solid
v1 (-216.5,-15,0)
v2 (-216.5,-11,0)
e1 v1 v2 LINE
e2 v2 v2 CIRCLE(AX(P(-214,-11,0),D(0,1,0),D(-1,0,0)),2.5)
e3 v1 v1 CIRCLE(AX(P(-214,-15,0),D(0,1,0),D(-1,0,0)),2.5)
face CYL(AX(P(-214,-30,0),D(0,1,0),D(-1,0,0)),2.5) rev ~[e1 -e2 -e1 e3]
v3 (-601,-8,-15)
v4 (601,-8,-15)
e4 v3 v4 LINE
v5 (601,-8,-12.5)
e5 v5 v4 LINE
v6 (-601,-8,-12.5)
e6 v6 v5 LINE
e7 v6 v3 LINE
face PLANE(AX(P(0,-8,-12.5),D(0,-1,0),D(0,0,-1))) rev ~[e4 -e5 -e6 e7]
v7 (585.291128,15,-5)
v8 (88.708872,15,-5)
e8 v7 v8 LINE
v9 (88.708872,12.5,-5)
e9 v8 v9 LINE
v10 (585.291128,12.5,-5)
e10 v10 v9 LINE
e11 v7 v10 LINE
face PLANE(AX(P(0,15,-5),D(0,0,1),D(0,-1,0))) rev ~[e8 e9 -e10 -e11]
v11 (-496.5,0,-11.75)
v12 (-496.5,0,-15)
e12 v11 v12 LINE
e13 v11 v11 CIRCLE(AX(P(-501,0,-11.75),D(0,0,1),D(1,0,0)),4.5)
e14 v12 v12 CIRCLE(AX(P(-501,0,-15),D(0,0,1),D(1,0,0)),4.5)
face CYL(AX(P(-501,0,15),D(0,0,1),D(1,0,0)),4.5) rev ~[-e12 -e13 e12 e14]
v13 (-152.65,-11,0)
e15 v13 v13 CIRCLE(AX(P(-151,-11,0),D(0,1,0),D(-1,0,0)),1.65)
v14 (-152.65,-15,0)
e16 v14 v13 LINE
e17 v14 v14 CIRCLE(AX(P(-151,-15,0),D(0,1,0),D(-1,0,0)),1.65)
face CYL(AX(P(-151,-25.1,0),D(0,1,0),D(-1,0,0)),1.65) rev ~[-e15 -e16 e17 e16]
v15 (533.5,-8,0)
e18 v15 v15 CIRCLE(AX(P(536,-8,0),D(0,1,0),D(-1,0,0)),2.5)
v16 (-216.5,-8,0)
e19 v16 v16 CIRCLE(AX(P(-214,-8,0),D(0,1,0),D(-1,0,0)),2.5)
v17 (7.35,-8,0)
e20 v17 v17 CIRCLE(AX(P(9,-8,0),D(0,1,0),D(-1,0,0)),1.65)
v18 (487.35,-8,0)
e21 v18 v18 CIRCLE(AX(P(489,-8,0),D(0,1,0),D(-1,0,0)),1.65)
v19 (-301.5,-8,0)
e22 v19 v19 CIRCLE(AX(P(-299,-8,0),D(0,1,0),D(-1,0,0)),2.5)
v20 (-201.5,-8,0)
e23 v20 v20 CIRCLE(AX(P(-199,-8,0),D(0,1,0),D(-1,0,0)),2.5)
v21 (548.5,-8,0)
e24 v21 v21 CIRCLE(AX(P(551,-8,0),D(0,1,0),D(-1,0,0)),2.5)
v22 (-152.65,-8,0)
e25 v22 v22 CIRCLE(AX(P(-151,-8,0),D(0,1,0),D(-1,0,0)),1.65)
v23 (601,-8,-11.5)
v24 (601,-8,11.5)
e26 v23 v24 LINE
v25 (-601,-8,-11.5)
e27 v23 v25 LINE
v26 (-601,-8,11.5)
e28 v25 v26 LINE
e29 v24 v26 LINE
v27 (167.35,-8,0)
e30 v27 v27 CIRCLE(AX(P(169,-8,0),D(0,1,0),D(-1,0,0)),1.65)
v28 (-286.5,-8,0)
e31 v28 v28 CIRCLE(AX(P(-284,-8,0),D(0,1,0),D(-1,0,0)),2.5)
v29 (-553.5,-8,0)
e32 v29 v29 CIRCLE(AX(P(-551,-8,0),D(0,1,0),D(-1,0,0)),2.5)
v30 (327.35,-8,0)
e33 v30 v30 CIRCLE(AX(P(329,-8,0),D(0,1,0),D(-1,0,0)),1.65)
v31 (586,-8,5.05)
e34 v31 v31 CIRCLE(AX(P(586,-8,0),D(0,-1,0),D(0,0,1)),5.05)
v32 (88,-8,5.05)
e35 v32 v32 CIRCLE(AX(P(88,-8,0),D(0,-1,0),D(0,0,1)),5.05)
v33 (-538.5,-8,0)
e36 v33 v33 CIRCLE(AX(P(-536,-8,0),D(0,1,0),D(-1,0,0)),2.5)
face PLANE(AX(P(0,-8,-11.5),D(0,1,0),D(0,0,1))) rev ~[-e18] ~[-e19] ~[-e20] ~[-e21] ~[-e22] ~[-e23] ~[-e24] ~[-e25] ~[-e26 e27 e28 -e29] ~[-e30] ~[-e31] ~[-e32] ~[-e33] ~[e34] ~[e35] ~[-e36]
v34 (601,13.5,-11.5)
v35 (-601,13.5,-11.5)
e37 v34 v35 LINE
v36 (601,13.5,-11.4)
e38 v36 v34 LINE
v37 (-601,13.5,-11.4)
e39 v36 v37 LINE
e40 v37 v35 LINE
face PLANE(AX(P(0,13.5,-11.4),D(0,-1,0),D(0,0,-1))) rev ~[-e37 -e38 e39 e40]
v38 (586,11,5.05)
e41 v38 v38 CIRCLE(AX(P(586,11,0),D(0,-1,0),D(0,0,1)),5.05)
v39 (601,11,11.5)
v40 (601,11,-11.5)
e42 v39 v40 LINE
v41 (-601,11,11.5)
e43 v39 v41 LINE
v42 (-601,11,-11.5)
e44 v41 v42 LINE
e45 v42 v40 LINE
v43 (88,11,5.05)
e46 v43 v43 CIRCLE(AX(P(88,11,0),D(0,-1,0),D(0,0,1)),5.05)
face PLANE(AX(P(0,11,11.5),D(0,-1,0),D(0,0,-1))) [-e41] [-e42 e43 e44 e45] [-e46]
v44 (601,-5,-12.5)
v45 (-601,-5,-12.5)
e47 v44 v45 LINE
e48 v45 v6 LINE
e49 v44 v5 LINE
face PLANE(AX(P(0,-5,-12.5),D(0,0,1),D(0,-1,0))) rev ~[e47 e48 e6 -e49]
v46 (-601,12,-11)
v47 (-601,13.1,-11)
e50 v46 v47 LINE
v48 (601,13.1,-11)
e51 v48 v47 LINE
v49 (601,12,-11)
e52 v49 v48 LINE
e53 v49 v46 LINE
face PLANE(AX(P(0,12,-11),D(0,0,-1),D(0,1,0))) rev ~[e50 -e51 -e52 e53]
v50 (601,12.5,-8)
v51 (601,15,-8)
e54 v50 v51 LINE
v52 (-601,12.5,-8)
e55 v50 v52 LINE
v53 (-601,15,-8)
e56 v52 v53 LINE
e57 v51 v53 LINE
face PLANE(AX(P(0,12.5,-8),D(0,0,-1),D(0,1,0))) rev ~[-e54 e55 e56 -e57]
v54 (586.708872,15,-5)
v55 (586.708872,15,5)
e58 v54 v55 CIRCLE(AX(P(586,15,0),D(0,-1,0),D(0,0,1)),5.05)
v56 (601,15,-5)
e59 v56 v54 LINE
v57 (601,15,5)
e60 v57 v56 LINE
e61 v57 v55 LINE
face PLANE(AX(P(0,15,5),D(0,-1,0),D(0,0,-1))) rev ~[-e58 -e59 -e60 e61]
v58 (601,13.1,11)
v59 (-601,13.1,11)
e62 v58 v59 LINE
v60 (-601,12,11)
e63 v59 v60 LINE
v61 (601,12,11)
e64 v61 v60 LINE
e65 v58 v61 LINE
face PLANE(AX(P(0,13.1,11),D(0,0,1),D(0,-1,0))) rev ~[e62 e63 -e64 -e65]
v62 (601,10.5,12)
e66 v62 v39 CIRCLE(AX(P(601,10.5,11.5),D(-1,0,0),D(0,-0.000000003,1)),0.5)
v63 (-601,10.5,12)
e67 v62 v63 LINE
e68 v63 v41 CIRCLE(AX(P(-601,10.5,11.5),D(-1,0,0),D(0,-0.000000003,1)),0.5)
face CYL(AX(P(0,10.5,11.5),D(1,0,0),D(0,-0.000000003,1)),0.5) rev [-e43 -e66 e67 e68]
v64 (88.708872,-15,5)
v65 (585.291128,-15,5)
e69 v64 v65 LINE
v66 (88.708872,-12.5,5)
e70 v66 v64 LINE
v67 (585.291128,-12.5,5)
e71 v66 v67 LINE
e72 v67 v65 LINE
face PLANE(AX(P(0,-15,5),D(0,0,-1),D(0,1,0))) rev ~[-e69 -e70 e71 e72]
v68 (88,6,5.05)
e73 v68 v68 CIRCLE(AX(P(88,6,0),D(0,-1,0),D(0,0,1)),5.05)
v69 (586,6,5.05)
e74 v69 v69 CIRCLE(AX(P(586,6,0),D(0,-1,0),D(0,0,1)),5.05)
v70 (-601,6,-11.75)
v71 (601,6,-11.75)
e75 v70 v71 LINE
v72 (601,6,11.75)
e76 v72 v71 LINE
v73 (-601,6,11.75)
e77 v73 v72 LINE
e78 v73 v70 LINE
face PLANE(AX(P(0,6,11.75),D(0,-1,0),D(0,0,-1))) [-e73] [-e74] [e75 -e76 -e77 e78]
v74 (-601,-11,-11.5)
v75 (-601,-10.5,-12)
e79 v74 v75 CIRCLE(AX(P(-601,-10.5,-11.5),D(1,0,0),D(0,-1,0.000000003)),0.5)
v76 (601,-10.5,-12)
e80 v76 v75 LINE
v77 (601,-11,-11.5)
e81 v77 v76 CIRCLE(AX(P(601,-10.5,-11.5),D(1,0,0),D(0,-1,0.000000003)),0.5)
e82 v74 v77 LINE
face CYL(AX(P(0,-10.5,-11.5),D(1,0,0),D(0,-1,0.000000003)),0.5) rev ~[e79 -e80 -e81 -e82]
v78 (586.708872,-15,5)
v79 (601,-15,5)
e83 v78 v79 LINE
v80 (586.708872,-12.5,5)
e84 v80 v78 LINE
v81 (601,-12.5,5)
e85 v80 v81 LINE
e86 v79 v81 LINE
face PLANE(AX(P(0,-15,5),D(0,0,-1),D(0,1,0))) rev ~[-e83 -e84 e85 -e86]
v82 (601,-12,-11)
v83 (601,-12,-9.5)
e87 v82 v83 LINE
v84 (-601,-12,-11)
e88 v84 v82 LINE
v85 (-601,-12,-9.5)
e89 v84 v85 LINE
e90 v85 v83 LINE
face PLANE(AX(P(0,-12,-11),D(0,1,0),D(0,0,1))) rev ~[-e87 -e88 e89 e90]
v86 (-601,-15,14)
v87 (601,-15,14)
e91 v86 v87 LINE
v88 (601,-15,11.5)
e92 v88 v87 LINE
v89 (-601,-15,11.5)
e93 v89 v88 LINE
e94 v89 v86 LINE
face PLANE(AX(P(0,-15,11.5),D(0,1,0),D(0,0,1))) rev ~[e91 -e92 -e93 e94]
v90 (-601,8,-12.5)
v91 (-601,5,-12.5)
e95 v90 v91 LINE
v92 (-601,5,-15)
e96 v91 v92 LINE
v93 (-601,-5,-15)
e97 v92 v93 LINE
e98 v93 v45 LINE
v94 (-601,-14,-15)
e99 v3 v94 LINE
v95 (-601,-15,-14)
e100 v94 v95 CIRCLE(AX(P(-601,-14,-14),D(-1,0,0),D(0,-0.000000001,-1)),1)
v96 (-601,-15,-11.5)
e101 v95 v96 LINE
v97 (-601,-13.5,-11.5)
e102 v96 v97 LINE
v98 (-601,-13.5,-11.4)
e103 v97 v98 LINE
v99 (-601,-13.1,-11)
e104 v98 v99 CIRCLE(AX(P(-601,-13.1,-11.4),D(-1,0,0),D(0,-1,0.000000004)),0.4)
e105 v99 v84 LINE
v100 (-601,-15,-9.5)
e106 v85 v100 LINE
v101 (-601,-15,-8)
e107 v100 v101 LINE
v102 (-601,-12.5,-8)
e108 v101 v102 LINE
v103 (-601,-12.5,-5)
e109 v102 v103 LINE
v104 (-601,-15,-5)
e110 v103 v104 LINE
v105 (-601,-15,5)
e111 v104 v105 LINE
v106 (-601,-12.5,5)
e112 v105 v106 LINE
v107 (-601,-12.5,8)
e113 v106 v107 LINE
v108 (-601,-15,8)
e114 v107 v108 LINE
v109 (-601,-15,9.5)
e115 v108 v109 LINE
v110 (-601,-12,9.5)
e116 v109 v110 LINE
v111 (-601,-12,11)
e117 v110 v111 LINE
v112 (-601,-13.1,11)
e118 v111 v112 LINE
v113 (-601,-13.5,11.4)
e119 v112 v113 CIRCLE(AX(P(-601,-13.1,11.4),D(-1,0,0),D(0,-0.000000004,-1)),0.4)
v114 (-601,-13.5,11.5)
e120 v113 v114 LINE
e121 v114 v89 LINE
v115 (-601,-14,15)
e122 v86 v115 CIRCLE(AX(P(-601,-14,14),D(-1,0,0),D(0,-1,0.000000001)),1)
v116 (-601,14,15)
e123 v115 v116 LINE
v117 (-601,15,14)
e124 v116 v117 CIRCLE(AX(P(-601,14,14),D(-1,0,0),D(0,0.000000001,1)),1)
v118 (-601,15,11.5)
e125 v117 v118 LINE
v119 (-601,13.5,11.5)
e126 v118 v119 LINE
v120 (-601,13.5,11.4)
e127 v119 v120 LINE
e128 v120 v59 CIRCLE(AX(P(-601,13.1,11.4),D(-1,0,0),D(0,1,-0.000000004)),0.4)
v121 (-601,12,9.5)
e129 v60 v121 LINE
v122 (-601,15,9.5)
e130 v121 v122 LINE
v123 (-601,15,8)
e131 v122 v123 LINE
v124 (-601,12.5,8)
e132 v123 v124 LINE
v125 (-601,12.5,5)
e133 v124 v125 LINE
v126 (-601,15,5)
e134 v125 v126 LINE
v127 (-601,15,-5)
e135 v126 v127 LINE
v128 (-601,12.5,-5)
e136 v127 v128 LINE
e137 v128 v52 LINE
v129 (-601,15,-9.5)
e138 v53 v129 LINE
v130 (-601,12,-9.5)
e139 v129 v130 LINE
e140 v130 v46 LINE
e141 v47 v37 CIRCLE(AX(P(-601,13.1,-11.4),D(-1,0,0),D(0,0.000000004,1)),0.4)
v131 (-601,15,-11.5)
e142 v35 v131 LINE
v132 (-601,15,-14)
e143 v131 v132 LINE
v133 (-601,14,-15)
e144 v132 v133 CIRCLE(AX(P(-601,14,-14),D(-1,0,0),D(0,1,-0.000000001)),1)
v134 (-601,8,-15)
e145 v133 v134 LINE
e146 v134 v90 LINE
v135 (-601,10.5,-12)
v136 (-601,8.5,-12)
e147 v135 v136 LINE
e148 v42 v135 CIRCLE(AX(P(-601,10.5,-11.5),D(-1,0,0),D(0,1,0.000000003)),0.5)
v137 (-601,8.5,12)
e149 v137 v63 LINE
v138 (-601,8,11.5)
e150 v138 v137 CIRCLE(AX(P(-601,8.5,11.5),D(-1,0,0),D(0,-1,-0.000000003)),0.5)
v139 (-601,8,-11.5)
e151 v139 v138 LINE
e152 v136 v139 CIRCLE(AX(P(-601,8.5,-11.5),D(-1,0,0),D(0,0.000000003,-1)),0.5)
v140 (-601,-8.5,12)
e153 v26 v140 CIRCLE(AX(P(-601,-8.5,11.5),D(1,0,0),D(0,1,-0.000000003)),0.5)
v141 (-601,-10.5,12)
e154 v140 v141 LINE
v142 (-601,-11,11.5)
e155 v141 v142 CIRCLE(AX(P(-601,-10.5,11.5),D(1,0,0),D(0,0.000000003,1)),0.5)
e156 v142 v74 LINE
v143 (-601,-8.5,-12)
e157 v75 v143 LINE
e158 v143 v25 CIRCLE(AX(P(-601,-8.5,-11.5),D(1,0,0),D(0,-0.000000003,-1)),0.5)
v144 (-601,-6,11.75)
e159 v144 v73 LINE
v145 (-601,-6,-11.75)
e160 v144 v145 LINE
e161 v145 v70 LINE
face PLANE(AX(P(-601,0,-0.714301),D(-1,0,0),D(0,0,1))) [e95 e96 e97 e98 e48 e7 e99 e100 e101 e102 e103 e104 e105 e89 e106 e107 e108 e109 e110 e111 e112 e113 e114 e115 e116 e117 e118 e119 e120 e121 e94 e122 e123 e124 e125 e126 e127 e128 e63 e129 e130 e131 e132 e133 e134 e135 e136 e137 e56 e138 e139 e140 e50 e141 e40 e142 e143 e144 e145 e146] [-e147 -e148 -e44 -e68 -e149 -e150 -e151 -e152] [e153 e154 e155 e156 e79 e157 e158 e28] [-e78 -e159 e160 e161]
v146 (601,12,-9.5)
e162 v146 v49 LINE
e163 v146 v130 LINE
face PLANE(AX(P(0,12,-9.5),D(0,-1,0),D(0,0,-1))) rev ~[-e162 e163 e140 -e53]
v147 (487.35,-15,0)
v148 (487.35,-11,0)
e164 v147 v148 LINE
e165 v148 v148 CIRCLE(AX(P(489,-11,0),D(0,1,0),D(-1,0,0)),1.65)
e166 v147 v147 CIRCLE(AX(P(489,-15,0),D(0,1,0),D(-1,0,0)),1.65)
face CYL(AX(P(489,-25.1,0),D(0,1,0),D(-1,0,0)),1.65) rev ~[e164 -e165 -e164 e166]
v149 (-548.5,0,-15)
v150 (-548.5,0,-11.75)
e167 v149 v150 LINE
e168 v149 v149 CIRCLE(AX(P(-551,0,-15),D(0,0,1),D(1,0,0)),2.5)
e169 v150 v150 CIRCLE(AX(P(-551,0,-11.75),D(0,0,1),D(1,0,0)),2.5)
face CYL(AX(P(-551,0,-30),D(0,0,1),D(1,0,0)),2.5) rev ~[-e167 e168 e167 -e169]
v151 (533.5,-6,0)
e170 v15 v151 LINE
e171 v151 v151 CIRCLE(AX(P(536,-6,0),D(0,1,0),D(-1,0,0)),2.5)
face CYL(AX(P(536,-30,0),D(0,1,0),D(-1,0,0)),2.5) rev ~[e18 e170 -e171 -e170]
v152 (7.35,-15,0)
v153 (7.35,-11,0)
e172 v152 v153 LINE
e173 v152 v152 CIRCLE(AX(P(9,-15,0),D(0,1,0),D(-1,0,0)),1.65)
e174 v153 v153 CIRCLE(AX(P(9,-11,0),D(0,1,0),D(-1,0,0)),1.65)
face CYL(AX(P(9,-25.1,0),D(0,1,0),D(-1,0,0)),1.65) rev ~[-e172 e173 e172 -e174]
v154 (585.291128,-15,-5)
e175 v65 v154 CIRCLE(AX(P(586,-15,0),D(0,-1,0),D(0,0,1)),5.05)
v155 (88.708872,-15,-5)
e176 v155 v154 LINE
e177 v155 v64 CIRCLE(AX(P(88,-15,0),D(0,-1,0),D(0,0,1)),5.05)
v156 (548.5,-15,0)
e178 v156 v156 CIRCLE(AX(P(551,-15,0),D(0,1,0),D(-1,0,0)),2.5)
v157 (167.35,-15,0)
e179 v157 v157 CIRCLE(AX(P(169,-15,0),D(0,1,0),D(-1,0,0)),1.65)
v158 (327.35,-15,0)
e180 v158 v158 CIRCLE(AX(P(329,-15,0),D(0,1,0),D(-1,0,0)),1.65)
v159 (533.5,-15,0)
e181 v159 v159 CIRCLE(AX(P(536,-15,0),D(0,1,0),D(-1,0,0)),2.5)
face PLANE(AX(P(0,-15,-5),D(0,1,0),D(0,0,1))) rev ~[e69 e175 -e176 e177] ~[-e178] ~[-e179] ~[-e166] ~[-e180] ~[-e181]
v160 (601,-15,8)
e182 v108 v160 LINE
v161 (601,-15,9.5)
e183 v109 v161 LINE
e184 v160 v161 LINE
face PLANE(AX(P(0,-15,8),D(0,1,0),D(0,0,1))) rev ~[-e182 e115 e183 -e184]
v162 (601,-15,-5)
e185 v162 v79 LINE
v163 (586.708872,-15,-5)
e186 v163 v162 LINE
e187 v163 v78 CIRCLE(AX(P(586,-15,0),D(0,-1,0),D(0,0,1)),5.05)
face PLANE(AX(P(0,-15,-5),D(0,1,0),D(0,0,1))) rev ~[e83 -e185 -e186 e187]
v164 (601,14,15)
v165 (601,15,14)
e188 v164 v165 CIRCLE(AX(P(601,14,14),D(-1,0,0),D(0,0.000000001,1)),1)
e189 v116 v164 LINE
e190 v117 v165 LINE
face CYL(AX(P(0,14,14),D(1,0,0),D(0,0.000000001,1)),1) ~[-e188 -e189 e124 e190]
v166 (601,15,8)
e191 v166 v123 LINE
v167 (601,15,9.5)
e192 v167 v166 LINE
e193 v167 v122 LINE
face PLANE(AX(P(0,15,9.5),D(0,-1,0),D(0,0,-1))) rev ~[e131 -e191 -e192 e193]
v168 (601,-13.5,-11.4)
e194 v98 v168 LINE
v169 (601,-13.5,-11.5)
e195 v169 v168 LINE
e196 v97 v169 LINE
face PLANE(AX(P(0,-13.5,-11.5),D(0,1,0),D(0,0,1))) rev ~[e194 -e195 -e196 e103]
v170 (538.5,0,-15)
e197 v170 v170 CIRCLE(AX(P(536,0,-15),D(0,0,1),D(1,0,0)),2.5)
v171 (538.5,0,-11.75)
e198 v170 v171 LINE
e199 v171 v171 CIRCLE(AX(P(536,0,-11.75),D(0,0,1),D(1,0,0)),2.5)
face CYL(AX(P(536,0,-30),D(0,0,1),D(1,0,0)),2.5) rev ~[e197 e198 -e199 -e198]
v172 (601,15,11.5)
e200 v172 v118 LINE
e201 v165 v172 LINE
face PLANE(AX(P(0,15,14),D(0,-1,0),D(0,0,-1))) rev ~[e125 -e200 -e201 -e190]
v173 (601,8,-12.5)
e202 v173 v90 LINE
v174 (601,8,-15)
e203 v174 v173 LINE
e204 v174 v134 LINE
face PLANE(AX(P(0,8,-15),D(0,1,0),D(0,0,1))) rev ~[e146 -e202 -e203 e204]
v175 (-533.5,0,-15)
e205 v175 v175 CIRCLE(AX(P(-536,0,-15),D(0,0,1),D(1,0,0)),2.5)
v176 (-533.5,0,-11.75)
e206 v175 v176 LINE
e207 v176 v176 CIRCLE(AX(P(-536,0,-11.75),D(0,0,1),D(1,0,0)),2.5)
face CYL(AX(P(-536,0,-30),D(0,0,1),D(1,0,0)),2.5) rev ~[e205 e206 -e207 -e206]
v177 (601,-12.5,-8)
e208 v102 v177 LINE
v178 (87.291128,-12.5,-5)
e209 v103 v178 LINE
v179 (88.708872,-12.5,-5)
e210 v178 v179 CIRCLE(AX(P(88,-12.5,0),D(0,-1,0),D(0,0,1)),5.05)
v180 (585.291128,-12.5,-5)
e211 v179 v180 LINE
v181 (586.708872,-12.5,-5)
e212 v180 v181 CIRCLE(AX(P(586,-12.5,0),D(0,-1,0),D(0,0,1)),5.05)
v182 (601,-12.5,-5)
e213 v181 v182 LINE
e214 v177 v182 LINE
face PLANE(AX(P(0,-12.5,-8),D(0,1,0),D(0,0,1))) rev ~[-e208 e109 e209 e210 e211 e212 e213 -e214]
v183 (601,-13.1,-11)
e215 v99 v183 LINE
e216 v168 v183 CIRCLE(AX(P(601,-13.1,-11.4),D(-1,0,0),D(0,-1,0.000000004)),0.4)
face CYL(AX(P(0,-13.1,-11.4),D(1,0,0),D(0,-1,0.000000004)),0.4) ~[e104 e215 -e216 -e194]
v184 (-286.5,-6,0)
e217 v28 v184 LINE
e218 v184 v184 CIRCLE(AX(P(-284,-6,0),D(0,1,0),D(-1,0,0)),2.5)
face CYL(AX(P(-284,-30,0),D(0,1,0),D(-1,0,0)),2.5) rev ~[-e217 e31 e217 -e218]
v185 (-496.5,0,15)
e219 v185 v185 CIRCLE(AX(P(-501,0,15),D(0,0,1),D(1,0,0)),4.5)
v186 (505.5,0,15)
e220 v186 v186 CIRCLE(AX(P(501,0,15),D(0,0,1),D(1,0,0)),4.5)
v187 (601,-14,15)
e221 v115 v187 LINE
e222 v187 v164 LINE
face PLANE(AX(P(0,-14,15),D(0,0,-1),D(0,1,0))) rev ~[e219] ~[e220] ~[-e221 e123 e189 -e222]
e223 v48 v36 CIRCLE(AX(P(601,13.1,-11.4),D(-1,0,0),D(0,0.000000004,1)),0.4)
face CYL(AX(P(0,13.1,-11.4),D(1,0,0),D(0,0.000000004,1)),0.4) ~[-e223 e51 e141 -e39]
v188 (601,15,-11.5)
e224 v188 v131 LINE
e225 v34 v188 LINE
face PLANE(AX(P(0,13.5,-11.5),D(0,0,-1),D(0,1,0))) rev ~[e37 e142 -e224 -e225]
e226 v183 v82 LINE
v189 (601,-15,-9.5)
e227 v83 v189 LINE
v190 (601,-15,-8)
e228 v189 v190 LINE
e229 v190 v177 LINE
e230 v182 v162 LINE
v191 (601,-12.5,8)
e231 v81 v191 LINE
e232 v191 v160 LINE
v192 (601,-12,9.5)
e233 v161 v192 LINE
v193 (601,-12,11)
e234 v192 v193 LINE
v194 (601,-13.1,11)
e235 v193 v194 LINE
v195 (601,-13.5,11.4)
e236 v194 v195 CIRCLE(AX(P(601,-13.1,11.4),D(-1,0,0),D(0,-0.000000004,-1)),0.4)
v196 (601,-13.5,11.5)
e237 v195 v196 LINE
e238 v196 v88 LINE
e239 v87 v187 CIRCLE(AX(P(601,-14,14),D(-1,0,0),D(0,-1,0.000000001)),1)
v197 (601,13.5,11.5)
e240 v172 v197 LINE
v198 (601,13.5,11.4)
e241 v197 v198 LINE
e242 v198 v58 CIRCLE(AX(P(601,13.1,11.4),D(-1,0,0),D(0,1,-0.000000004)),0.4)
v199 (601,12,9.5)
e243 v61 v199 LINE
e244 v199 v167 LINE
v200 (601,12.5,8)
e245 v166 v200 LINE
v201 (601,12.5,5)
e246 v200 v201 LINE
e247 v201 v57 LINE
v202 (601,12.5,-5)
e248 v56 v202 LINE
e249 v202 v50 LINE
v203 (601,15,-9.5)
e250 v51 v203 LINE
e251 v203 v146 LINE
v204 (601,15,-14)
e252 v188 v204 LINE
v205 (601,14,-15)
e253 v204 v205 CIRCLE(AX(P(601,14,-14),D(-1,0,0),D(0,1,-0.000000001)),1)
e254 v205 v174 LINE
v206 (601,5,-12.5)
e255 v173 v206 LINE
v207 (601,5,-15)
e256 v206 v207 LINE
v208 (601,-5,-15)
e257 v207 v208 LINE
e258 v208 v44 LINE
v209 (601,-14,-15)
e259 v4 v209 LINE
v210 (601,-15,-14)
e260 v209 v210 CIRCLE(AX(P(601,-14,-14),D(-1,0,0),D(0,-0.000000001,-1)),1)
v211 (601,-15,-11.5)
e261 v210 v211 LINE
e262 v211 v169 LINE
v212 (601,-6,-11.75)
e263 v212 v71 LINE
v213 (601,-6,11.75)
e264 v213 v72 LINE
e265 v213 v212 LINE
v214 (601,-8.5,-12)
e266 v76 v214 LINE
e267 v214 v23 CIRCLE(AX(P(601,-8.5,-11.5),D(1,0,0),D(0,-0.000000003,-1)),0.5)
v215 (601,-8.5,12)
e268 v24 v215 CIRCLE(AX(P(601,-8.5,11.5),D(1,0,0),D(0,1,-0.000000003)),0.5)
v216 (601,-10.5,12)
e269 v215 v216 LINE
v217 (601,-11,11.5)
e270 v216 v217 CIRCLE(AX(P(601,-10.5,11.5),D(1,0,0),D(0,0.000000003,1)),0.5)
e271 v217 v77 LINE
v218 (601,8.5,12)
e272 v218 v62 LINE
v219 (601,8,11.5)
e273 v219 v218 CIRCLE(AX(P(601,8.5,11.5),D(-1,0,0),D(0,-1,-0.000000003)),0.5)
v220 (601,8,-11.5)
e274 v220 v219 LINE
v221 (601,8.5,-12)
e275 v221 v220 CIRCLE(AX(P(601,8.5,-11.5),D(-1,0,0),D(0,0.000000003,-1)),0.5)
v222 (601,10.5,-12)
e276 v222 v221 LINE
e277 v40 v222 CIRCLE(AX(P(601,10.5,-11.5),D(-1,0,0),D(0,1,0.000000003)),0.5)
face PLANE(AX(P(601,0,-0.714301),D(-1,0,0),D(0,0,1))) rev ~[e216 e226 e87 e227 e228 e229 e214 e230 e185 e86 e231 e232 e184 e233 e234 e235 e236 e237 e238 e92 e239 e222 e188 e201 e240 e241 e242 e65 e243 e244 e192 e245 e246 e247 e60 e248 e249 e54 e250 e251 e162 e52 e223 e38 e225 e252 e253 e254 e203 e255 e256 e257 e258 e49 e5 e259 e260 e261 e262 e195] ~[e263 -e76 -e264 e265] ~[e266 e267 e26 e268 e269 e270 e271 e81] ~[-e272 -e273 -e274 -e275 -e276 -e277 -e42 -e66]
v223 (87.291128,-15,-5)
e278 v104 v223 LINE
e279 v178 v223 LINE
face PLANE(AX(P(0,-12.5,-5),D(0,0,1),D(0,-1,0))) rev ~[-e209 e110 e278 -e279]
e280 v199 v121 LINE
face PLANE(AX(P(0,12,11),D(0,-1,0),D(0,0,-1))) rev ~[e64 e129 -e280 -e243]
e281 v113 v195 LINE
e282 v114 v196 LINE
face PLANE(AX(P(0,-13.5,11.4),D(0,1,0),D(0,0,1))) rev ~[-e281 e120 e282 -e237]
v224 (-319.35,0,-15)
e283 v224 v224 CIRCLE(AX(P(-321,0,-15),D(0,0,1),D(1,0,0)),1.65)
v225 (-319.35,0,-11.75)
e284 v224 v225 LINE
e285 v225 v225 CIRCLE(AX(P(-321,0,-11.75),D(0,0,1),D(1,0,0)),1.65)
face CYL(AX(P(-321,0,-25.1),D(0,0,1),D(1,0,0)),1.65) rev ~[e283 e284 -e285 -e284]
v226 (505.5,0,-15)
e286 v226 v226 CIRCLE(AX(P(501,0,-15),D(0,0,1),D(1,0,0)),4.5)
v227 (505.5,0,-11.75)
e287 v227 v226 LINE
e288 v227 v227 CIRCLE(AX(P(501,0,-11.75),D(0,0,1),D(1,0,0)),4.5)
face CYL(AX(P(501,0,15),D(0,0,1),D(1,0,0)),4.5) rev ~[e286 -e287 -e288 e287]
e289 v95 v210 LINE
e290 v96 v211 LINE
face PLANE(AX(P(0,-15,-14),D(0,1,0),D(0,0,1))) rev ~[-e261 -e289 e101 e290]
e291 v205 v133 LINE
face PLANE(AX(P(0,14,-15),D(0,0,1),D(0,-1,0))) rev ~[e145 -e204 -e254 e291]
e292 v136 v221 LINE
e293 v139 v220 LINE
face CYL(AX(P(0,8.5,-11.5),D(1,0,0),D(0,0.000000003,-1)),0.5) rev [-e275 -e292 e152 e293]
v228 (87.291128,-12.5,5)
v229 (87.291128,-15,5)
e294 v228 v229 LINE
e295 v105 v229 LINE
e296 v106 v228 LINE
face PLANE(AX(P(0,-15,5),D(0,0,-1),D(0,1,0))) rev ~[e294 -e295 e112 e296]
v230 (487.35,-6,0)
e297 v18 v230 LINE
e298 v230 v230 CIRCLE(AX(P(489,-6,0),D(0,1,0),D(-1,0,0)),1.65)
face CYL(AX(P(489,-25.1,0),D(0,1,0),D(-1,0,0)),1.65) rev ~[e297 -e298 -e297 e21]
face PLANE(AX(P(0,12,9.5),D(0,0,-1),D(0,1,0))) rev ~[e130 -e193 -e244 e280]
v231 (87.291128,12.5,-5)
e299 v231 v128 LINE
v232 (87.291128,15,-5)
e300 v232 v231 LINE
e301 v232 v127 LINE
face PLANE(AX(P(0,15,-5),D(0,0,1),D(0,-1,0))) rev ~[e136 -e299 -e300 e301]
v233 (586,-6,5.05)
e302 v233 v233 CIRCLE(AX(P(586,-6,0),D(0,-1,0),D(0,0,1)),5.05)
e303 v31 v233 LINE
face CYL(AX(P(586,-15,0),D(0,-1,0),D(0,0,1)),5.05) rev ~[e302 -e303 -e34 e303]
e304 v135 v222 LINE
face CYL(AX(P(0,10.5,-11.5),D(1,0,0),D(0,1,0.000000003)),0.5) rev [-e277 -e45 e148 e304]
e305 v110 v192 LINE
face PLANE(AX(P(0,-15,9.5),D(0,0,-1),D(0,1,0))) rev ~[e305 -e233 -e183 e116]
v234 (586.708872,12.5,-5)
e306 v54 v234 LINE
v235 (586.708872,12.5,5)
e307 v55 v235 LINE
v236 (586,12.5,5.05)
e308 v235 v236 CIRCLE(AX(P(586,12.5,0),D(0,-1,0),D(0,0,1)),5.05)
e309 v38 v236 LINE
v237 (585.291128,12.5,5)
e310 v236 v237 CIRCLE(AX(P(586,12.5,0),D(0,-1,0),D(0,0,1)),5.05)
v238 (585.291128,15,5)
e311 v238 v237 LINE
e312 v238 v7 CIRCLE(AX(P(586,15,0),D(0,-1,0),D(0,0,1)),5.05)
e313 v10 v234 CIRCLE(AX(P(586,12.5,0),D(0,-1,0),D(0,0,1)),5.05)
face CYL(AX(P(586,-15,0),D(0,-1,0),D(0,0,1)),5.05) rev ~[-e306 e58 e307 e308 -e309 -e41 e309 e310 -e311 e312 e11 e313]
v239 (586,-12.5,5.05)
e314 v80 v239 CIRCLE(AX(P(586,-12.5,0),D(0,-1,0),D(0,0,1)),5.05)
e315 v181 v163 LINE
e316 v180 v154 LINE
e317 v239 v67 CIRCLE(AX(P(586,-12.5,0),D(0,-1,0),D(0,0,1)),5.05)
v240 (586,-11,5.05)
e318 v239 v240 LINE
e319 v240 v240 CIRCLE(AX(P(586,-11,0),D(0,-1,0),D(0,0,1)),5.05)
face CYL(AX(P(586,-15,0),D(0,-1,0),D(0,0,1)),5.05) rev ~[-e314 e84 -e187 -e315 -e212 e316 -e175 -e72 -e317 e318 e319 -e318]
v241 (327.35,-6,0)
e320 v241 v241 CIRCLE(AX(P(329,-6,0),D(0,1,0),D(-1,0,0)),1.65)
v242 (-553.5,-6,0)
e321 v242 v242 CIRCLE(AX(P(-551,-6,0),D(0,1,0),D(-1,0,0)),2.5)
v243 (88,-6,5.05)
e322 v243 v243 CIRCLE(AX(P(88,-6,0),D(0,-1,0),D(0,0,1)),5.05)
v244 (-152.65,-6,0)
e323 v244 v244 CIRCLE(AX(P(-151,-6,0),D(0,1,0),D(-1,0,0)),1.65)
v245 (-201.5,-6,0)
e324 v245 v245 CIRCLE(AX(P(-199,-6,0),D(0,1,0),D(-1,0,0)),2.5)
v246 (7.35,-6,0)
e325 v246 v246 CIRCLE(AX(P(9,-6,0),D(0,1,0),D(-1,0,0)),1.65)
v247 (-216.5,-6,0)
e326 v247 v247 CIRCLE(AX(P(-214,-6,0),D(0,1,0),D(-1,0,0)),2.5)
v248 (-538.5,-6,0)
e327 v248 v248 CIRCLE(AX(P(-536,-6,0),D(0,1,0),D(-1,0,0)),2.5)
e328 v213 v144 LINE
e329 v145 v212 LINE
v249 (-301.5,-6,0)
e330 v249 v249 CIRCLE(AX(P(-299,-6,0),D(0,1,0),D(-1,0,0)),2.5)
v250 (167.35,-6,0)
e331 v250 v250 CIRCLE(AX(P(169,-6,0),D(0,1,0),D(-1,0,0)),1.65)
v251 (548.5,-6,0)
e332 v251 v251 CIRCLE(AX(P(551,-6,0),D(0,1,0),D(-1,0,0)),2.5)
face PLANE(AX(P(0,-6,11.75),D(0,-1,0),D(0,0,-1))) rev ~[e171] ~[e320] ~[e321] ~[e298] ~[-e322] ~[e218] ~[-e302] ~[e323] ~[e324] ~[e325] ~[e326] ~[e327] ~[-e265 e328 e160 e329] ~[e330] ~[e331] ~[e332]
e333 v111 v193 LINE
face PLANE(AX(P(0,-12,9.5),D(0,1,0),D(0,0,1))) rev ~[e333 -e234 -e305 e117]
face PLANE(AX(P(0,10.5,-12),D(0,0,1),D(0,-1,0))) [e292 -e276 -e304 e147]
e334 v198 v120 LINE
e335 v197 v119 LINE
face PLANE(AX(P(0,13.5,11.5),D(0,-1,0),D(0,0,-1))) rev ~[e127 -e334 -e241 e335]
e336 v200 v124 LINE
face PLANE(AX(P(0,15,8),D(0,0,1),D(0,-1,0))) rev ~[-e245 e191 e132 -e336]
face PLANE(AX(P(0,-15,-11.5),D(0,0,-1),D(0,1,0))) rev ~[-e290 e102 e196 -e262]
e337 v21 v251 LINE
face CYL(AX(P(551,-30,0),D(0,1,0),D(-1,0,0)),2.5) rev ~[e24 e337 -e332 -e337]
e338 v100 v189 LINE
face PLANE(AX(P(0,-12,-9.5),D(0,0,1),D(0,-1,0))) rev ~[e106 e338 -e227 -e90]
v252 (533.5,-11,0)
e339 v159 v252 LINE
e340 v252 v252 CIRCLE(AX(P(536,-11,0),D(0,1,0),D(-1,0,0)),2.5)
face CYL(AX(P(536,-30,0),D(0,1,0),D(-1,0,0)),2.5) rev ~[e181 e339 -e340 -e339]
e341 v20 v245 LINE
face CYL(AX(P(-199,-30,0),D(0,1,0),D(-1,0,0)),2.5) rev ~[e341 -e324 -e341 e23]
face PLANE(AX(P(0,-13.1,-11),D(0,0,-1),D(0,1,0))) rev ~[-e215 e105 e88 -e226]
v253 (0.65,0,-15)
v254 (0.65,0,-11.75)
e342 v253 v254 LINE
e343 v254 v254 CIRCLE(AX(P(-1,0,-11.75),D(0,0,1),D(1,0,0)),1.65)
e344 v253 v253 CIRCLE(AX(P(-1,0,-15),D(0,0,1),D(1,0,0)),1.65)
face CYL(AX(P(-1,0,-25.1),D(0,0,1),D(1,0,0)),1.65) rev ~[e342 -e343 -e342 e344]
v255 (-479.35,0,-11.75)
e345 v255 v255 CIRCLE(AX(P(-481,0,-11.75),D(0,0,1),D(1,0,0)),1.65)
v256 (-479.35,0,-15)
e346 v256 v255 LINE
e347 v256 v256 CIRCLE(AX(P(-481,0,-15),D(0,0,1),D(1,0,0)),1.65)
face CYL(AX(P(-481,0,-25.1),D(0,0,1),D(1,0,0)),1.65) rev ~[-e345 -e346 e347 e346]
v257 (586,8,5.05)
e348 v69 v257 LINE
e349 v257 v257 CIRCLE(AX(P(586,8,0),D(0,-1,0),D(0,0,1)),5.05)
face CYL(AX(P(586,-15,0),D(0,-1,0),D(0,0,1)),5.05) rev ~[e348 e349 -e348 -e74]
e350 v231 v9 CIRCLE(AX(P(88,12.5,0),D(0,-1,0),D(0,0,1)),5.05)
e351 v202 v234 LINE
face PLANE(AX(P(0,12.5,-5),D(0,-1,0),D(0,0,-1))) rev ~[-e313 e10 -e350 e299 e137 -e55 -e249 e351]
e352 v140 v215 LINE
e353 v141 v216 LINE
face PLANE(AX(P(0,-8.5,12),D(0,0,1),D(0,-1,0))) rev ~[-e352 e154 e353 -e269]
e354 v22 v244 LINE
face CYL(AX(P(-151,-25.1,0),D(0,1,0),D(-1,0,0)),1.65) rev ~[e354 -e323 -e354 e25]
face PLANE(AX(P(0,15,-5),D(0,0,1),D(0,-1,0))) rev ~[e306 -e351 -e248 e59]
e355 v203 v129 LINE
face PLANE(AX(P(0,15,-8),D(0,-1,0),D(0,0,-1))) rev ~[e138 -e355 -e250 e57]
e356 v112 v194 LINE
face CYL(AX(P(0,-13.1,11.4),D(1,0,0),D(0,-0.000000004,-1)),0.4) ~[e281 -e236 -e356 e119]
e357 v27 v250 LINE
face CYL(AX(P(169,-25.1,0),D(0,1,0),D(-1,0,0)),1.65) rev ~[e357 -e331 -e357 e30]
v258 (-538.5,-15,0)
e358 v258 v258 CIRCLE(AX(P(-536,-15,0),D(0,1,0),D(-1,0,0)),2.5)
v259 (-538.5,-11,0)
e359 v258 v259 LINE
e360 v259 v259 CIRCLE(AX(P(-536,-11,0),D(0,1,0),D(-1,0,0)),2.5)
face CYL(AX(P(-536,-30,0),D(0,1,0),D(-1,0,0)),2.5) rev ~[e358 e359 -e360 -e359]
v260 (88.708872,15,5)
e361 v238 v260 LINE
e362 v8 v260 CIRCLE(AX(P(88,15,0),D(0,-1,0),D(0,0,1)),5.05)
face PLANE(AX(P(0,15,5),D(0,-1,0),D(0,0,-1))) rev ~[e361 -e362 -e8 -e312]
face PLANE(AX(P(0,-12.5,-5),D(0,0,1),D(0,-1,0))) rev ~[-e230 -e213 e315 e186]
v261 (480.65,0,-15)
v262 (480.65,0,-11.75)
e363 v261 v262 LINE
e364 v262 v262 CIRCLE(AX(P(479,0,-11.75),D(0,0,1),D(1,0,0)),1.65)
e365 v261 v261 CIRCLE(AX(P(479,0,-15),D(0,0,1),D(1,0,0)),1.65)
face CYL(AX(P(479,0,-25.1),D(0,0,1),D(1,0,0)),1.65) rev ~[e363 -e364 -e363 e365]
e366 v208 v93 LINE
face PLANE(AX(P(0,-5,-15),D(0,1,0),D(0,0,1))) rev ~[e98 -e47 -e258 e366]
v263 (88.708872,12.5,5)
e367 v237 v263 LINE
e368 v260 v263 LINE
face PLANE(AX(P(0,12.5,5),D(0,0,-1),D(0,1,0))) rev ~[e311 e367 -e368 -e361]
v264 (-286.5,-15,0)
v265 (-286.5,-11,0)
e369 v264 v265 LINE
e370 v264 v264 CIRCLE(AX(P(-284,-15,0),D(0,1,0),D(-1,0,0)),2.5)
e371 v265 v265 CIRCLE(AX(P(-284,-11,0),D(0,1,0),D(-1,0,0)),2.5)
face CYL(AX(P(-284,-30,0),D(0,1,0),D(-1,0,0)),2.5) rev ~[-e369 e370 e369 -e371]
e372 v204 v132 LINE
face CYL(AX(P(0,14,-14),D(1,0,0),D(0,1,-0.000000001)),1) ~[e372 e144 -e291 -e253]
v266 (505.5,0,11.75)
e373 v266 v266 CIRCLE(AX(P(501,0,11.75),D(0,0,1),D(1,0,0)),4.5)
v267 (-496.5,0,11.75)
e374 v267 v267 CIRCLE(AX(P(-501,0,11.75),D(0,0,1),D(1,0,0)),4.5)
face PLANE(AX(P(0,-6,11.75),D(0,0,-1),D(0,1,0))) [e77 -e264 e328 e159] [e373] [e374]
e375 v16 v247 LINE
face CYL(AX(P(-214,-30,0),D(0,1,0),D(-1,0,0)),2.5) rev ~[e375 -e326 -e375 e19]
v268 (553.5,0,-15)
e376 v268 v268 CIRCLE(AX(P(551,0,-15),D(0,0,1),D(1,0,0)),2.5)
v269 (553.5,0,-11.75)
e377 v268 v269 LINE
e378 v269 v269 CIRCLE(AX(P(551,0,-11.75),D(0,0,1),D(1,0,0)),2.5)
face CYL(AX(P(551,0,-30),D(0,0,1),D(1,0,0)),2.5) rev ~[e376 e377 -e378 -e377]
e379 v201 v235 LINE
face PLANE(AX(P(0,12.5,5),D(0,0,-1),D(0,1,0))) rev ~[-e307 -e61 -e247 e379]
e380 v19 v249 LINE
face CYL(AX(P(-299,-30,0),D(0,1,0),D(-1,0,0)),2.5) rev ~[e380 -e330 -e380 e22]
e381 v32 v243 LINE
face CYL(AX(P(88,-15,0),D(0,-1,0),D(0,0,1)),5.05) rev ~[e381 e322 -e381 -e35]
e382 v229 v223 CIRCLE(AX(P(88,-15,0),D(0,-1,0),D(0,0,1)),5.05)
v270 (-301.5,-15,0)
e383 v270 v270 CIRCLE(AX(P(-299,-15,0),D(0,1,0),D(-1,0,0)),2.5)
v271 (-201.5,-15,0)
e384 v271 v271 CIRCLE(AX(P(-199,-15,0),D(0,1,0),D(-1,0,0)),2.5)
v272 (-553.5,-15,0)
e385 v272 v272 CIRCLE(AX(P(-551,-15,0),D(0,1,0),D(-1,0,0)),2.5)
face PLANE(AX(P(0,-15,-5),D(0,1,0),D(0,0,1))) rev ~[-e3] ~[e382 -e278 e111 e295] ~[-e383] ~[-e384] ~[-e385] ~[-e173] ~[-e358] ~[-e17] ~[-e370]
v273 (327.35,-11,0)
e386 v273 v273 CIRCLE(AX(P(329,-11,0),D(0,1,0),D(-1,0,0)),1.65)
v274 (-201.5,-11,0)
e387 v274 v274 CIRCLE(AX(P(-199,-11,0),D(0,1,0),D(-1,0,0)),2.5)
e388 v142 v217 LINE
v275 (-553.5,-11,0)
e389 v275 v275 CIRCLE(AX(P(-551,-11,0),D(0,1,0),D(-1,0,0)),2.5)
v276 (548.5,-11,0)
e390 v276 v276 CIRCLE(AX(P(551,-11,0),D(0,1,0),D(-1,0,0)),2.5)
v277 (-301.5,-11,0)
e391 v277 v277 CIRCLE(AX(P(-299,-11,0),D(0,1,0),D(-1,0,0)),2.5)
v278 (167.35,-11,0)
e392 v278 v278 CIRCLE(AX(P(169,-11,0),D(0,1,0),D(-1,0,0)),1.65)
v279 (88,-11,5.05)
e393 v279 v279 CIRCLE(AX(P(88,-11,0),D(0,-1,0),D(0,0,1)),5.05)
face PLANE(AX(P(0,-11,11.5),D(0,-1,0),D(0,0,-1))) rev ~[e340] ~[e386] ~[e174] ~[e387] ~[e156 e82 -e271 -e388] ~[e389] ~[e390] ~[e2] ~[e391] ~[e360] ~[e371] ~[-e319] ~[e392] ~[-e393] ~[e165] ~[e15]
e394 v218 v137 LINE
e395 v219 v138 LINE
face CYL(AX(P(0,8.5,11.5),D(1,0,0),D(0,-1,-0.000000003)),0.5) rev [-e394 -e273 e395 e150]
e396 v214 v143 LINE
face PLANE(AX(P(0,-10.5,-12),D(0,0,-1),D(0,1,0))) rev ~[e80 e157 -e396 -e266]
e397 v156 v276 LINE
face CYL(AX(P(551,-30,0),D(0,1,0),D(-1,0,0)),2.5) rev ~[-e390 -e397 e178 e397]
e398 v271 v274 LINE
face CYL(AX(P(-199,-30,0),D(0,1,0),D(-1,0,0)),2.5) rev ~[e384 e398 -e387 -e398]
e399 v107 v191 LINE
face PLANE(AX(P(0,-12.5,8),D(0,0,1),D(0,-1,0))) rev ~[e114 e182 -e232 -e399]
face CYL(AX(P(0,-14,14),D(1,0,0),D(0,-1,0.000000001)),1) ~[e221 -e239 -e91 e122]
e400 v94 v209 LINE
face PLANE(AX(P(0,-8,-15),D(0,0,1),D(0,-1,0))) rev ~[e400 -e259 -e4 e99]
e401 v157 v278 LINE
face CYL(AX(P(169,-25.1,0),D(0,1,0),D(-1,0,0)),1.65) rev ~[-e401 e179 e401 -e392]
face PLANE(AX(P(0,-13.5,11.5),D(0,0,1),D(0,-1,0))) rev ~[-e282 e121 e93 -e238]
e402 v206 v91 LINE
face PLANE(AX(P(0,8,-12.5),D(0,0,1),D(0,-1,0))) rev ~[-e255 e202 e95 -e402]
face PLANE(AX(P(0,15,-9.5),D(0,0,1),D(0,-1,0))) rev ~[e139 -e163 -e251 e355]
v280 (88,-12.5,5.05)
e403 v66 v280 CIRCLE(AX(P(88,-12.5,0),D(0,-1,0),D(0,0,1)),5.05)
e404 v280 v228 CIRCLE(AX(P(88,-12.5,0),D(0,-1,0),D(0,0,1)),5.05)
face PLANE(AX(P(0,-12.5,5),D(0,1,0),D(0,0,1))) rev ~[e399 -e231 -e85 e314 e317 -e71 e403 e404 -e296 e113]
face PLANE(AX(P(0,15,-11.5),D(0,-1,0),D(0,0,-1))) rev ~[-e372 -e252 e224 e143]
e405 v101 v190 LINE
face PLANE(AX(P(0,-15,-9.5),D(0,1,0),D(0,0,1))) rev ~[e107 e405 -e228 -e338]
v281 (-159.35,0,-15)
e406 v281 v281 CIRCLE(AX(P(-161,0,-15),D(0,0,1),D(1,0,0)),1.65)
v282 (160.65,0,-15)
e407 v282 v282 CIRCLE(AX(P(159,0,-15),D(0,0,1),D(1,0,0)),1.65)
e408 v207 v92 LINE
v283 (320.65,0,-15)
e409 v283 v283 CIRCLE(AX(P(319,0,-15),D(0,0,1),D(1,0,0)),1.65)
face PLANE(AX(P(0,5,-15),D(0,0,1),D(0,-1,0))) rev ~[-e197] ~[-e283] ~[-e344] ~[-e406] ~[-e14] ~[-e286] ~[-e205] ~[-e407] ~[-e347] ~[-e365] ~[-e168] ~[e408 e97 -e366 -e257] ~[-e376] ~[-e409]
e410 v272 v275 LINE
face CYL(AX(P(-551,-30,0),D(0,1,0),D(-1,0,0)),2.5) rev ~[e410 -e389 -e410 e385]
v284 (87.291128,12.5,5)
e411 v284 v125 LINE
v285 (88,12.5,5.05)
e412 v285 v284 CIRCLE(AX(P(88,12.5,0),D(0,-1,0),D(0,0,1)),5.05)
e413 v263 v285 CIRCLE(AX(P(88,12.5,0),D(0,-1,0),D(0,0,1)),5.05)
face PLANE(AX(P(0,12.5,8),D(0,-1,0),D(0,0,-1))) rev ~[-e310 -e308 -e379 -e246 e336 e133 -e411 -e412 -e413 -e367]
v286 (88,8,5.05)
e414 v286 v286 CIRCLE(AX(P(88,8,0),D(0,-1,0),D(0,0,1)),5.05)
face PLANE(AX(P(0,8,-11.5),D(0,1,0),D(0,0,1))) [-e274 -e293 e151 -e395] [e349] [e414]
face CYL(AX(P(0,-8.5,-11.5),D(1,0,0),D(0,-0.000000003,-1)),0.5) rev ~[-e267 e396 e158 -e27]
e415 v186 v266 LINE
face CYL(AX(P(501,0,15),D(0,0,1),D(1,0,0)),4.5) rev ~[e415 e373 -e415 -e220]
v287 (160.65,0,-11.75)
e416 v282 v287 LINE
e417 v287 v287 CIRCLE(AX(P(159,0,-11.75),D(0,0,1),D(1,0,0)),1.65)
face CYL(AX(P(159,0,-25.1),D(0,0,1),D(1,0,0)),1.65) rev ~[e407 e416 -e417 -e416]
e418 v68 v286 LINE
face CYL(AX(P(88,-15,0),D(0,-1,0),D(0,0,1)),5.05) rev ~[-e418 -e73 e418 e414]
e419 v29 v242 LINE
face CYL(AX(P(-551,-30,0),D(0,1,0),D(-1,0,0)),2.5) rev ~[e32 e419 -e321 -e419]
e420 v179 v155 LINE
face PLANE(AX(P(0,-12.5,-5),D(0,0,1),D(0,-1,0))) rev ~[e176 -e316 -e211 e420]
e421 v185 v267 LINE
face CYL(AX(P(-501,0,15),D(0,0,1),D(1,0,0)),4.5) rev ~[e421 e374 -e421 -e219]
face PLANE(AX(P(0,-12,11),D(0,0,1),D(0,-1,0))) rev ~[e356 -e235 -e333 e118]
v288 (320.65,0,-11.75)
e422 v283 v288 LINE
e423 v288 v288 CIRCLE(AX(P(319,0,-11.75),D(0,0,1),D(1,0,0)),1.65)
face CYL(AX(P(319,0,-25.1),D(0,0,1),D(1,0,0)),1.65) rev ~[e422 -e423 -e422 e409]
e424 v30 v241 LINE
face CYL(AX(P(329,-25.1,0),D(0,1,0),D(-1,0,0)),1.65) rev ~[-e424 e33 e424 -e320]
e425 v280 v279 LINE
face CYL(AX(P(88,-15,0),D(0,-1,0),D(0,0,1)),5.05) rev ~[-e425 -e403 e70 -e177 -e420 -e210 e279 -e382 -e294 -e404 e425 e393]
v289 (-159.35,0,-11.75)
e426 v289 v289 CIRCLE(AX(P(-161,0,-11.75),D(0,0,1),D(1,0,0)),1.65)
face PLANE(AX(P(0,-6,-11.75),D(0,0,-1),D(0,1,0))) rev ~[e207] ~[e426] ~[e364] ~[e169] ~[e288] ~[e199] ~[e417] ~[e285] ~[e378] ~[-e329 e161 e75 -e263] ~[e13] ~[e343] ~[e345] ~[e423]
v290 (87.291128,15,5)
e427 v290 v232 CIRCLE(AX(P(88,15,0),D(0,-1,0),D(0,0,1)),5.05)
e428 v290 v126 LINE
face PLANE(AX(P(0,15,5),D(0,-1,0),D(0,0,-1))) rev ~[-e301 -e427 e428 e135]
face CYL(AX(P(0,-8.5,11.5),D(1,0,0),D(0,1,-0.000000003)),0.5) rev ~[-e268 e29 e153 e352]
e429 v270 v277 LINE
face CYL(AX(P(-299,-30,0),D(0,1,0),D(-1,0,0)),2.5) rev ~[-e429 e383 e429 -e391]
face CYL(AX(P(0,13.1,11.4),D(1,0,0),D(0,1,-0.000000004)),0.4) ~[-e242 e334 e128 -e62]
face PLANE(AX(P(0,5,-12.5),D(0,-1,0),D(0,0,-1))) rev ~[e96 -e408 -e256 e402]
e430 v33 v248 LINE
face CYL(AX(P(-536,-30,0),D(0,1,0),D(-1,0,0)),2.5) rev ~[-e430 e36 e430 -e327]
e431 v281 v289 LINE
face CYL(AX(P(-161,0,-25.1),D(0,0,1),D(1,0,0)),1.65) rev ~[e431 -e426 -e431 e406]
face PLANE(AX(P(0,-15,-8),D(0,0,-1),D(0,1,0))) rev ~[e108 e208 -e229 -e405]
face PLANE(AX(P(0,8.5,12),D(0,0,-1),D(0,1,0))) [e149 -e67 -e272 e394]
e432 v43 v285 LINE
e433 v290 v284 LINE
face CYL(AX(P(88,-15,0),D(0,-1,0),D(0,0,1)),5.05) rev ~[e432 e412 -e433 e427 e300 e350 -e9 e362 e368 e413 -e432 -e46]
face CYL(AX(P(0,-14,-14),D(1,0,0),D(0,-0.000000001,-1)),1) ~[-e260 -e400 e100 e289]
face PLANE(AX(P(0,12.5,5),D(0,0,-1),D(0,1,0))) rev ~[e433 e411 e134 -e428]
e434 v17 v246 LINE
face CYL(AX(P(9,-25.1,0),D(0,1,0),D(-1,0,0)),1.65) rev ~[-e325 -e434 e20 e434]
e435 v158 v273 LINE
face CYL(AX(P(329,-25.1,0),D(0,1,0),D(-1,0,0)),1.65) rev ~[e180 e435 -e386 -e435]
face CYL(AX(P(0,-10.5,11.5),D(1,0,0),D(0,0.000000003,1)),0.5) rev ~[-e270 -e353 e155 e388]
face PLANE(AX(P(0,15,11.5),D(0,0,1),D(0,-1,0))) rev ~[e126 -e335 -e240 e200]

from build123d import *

# Parameters (mm, degrees)
SKETCH_1_W             = 23.5
SKETCH_1_H             = 12
EXTRUDE_1_DEPTH        = 601
HOLE_WIZARD_M6_1_D     = 5
HOLE_WIZARD_M6_1_DEPTH = 15
HOLE_WIZARD_M6_1_TIP   = 1.502151548
HOLE_WIZARD_M6_2_D     = 5
HOLE_WIZARD_M6_2_DEPTH = 15
HOLE_WIZARD_M6_2_TIP   = 1.502151548
SKETCH_6_R             = 5.05
CUT_EXTRUDE_1_DEPTH    = 602.935212461
HOLE_WIZARD_M4_1_D     = 3.3
HOLE_WIZARD_M4_1_DEPTH = 10.1
HOLE_WIZARD_M4_1_TIP   = 0.991420021
SKETCH_10_R            = 4.5
CUT_EXTRUDE_2_DEPTH    = 602.935212461
HOLE_WIZARD_M4_2_D     = 3.3
HOLE_WIZARD_M4_2_DEPTH = 10.1
HOLE_WIZARD_M4_2_TIP   = 0.991420021


with BuildPart() as part:
    # 草图1 → 凸台-拉伸1 (new, symmetric)
    with BuildSketch(Plane(origin=(0, 0, 0), x_dir=(0, 0, -1), z_dir=(1, 0, 0))):
        with BuildLine():
            Line((-14, 15), (-11.5, 15))
            Line((-11.5, 15), (-11.5, 13.5))
            Line((-11.5, 13.5), (-11.4, 13.5))
            ThreePointArc((-11.4, 13.5), (-11.117157288, 13.382842712), (-11, 13.1))
            Line((-11, 13.1), (-11, 12))
            Line((-11, 12), (-9.5, 12))
            Line((-9.5, 12), (-9.5, 15))
            Line((-9.5, 15), (-8, 15))
            Line((-8, 15), (-8, 12.5))
            Line((-8, 12.5), (-5, 12.5))
            Line((-5, 12.5), (-5, 15))
            Line((-5, 15), (5, 15))
            Line((5, 15), (5, 12.5))
            Line((5, 12.5), (8, 12.5))
            Line((8, 12.5), (8, 15))
            Line((8, 15), (9.5, 15))
            Line((9.5, 15), (9.5, 12))
            Line((9.5, 12), (11, 12))
            Line((11, 12), (11, 13.1))
            ThreePointArc((11, 13.1), (11.117157288, 13.382842712), (11.4, 13.5))
            Line((11.4, 13.5), (11.5, 13.5))
            Line((11.5, 13.5), (11.5, 15))
            Line((11.5, 15), (14, 15))
            ThreePointArc((14, 15), (14.707106781, 14.707106781), (15, 14))
            Line((15, 14), (15, 8))
            Line((15, 8), (12.5, 8))
            Line((12.5, 8), (12.5, 5))
            Line((12.5, 5), (15, 5))
            Line((15, 5), (15, -5))
            Line((15, -5), (12.5, -5))
            Line((12.5, -5), (12.5, -8))
            Line((12.5, -8), (15, -8))
            Line((15, -8), (15, -14))
            ThreePointArc((15, -14), (14.707106781, -14.707106781), (14, -15))
            Line((14, -15), (11.5, -15))
            Line((11.5, -15), (11.5, -13.5))
            Line((11.5, -13.5), (11.4, -13.5))
            ThreePointArc((11.4, -13.5), (11.117157288, -13.382842712), (11, -13.1))
            Line((11, -13.1), (11, -12))
            Line((11, -12), (9.5, -12))
            Line((9.5, -12), (9.5, -15))
            Line((9.5, -15), (8, -15))
            Line((8, -15), (8, -12.5))
            Line((8, -12.5), (5, -12.5))
            Line((5, -12.5), (5, -15))
            Line((5, -15), (-5, -15))
            Line((-5, -15), (-5, -12.5))
            Line((-5, -12.5), (-8, -12.5))
            Line((-8, -12.5), (-8, -15))
            Line((-8, -15), (-9.5, -15))
            Line((-9.5, -15), (-9.5, -12))
            Line((-9.5, -12), (-11, -12))
            Line((-11, -12), (-11, -13.1))
            ThreePointArc((-11, -13.1), (-11.117157288, -13.382842712), (-11.4, -13.5))
            Line((-11.4, -13.5), (-11.5, -13.5))
            Line((-11.5, -13.5), (-11.5, -15))
            Line((-11.5, -15), (-14, -15))
            ThreePointArc((-14, -15), (-14.707106781, -14.707106781), (-15, -14))
            Line((-15, -14), (-15, 14))
            ThreePointArc((-15, 14), (-14.707106781, 14.707106781), (-14, 15))
        make_face()
        with BuildLine():
            Line((12, -10.5), (12, -8.5))
            ThreePointArc((12, -8.5), (11.853553391, -8.146446609), (11.5, -8))
            Line((11.5, -8), (-11.5, -8))
            ThreePointArc((-11.5, -8), (-11.853553391, -8.146446609), (-12, -8.5))
            Line((-12, -8.5), (-12, -10.5))
            ThreePointArc((-12, -10.5), (-11.853553391, -10.853553391), (-11.5, -11))
            Line((-11.5, -11), (11.5, -11))
            ThreePointArc((11.5, -11), (11.853553391, -10.853553391), (12, -10.5))
        make_face(mode=Mode.SUBTRACT)
        with BuildLine():
            Line((-11.5, 11), (11.5, 11))
            ThreePointArc((11.5, 11), (11.853553391, 10.853553391), (12, 10.5))
            Line((12, 10.5), (12, 8.5))
            ThreePointArc((12, 8.5), (11.853553391, 8.146446609), (11.5, 8))
            Line((11.5, 8), (-11.5, 8))
            ThreePointArc((-11.5, 8), (-11.853553391, 8.146446609), (-12, 8.5))
            Line((-12, 8.5), (-12, 10.5))
            ThreePointArc((-12, 10.5), (-11.853553391, 10.853553391), (-11.5, 11))
        make_face(mode=Mode.SUBTRACT)
        Rectangle(SKETCH_1_W, SKETCH_1_H, mode=Mode.SUBTRACT)
    extrude(amount=EXTRUDE_1_DEPTH, both=True)

    # M6 螺纹孔1
    with Locations(Plane(origin=(0, 0, -15), x_dir=(-1, 0, 0), z_dir=(0, 0, -1))):
        with Locations((-551, 0), (-536, 0), (536, 0), (551, 0)):
            Hole(HOLE_WIZARD_M6_1_D / 2, depth=HOLE_WIZARD_M6_1_DEPTH)
            with Locations((0, 0, -(HOLE_WIZARD_M6_1_DEPTH + HOLE_WIZARD_M6_1_TIP / 2))):  # 118° drill point
                Cone(0, HOLE_WIZARD_M6_1_D / 2, HOLE_WIZARD_M6_1_TIP, mode=Mode.SUBTRACT)

    # M6 螺纹孔2
    with Locations(Plane.XZ.offset(15)):
        with Locations((551, 0), (536, 0), (-199, 0), (-214, 0), (-284, 0), (-299, 0), (-536, 0), (-551, 0)):
            Hole(HOLE_WIZARD_M6_2_D / 2, depth=HOLE_WIZARD_M6_2_DEPTH)
            with Locations((0, 0, -(HOLE_WIZARD_M6_2_DEPTH + HOLE_WIZARD_M6_2_TIP / 2))):  # 118° drill point
                Cone(0, HOLE_WIZARD_M6_2_D / 2, HOLE_WIZARD_M6_2_TIP, mode=Mode.SUBTRACT)

    # 草图6 → 切除-拉伸1 (cut, through all)
    with BuildSketch(Plane.XZ.offset(15)):
        with Locations(Location((88, 0, 0), (0, 0, 90))):
            Circle(SKETCH_6_R)
        with Locations(Location((586, 0, 0), (0, 0, 90))):
            Circle(SKETCH_6_R)
    extrude(amount=-CUT_EXTRUDE_1_DEPTH, mode=Mode.SUBTRACT)

    # M4 螺纹孔1
    with Locations(Plane.XZ.offset(15)):
        with Locations((489, 0), (329, 0), (169, 0), (9, 0), (-151, 0)):
            Hole(HOLE_WIZARD_M4_1_D / 2, depth=HOLE_WIZARD_M4_1_DEPTH)
            with Locations((0, 0, -(HOLE_WIZARD_M4_1_DEPTH + HOLE_WIZARD_M4_1_TIP / 2))):  # 118° drill point
                Cone(0, HOLE_WIZARD_M4_1_D / 2, HOLE_WIZARD_M4_1_TIP, mode=Mode.SUBTRACT)

    # 草图10 → 切除-拉伸2 (cut, through all)
    with BuildSketch(Plane.XY.offset(15)):
        with Locations((-501, 0)):
            Circle(SKETCH_10_R)
        with Locations((501, 0)):
            Circle(SKETCH_10_R)
    extrude(amount=-CUT_EXTRUDE_2_DEPTH, mode=Mode.SUBTRACT)

    # M4 螺纹孔2
    with Locations(Plane(origin=(0, 0, -15), x_dir=(-1, 0, 0), z_dir=(0, 0, -1))):
        with Locations((-479, 0), (-319, 0), (-159, 0), (1, 0), (161, 0), (321, 0), (481, 0)):
            Hole(HOLE_WIZARD_M4_2_D / 2, depth=HOLE_WIZARD_M4_2_DEPTH)
            with Locations((0, 0, -(HOLE_WIZARD_M4_2_DEPTH + HOLE_WIZARD_M4_2_TIP / 2))):  # 118° drill point
                Cone(0, HOLE_WIZARD_M4_2_D / 2, HOLE_WIZARD_M4_2_TIP, mode=Mode.SUBTRACT)


solid = part.part
